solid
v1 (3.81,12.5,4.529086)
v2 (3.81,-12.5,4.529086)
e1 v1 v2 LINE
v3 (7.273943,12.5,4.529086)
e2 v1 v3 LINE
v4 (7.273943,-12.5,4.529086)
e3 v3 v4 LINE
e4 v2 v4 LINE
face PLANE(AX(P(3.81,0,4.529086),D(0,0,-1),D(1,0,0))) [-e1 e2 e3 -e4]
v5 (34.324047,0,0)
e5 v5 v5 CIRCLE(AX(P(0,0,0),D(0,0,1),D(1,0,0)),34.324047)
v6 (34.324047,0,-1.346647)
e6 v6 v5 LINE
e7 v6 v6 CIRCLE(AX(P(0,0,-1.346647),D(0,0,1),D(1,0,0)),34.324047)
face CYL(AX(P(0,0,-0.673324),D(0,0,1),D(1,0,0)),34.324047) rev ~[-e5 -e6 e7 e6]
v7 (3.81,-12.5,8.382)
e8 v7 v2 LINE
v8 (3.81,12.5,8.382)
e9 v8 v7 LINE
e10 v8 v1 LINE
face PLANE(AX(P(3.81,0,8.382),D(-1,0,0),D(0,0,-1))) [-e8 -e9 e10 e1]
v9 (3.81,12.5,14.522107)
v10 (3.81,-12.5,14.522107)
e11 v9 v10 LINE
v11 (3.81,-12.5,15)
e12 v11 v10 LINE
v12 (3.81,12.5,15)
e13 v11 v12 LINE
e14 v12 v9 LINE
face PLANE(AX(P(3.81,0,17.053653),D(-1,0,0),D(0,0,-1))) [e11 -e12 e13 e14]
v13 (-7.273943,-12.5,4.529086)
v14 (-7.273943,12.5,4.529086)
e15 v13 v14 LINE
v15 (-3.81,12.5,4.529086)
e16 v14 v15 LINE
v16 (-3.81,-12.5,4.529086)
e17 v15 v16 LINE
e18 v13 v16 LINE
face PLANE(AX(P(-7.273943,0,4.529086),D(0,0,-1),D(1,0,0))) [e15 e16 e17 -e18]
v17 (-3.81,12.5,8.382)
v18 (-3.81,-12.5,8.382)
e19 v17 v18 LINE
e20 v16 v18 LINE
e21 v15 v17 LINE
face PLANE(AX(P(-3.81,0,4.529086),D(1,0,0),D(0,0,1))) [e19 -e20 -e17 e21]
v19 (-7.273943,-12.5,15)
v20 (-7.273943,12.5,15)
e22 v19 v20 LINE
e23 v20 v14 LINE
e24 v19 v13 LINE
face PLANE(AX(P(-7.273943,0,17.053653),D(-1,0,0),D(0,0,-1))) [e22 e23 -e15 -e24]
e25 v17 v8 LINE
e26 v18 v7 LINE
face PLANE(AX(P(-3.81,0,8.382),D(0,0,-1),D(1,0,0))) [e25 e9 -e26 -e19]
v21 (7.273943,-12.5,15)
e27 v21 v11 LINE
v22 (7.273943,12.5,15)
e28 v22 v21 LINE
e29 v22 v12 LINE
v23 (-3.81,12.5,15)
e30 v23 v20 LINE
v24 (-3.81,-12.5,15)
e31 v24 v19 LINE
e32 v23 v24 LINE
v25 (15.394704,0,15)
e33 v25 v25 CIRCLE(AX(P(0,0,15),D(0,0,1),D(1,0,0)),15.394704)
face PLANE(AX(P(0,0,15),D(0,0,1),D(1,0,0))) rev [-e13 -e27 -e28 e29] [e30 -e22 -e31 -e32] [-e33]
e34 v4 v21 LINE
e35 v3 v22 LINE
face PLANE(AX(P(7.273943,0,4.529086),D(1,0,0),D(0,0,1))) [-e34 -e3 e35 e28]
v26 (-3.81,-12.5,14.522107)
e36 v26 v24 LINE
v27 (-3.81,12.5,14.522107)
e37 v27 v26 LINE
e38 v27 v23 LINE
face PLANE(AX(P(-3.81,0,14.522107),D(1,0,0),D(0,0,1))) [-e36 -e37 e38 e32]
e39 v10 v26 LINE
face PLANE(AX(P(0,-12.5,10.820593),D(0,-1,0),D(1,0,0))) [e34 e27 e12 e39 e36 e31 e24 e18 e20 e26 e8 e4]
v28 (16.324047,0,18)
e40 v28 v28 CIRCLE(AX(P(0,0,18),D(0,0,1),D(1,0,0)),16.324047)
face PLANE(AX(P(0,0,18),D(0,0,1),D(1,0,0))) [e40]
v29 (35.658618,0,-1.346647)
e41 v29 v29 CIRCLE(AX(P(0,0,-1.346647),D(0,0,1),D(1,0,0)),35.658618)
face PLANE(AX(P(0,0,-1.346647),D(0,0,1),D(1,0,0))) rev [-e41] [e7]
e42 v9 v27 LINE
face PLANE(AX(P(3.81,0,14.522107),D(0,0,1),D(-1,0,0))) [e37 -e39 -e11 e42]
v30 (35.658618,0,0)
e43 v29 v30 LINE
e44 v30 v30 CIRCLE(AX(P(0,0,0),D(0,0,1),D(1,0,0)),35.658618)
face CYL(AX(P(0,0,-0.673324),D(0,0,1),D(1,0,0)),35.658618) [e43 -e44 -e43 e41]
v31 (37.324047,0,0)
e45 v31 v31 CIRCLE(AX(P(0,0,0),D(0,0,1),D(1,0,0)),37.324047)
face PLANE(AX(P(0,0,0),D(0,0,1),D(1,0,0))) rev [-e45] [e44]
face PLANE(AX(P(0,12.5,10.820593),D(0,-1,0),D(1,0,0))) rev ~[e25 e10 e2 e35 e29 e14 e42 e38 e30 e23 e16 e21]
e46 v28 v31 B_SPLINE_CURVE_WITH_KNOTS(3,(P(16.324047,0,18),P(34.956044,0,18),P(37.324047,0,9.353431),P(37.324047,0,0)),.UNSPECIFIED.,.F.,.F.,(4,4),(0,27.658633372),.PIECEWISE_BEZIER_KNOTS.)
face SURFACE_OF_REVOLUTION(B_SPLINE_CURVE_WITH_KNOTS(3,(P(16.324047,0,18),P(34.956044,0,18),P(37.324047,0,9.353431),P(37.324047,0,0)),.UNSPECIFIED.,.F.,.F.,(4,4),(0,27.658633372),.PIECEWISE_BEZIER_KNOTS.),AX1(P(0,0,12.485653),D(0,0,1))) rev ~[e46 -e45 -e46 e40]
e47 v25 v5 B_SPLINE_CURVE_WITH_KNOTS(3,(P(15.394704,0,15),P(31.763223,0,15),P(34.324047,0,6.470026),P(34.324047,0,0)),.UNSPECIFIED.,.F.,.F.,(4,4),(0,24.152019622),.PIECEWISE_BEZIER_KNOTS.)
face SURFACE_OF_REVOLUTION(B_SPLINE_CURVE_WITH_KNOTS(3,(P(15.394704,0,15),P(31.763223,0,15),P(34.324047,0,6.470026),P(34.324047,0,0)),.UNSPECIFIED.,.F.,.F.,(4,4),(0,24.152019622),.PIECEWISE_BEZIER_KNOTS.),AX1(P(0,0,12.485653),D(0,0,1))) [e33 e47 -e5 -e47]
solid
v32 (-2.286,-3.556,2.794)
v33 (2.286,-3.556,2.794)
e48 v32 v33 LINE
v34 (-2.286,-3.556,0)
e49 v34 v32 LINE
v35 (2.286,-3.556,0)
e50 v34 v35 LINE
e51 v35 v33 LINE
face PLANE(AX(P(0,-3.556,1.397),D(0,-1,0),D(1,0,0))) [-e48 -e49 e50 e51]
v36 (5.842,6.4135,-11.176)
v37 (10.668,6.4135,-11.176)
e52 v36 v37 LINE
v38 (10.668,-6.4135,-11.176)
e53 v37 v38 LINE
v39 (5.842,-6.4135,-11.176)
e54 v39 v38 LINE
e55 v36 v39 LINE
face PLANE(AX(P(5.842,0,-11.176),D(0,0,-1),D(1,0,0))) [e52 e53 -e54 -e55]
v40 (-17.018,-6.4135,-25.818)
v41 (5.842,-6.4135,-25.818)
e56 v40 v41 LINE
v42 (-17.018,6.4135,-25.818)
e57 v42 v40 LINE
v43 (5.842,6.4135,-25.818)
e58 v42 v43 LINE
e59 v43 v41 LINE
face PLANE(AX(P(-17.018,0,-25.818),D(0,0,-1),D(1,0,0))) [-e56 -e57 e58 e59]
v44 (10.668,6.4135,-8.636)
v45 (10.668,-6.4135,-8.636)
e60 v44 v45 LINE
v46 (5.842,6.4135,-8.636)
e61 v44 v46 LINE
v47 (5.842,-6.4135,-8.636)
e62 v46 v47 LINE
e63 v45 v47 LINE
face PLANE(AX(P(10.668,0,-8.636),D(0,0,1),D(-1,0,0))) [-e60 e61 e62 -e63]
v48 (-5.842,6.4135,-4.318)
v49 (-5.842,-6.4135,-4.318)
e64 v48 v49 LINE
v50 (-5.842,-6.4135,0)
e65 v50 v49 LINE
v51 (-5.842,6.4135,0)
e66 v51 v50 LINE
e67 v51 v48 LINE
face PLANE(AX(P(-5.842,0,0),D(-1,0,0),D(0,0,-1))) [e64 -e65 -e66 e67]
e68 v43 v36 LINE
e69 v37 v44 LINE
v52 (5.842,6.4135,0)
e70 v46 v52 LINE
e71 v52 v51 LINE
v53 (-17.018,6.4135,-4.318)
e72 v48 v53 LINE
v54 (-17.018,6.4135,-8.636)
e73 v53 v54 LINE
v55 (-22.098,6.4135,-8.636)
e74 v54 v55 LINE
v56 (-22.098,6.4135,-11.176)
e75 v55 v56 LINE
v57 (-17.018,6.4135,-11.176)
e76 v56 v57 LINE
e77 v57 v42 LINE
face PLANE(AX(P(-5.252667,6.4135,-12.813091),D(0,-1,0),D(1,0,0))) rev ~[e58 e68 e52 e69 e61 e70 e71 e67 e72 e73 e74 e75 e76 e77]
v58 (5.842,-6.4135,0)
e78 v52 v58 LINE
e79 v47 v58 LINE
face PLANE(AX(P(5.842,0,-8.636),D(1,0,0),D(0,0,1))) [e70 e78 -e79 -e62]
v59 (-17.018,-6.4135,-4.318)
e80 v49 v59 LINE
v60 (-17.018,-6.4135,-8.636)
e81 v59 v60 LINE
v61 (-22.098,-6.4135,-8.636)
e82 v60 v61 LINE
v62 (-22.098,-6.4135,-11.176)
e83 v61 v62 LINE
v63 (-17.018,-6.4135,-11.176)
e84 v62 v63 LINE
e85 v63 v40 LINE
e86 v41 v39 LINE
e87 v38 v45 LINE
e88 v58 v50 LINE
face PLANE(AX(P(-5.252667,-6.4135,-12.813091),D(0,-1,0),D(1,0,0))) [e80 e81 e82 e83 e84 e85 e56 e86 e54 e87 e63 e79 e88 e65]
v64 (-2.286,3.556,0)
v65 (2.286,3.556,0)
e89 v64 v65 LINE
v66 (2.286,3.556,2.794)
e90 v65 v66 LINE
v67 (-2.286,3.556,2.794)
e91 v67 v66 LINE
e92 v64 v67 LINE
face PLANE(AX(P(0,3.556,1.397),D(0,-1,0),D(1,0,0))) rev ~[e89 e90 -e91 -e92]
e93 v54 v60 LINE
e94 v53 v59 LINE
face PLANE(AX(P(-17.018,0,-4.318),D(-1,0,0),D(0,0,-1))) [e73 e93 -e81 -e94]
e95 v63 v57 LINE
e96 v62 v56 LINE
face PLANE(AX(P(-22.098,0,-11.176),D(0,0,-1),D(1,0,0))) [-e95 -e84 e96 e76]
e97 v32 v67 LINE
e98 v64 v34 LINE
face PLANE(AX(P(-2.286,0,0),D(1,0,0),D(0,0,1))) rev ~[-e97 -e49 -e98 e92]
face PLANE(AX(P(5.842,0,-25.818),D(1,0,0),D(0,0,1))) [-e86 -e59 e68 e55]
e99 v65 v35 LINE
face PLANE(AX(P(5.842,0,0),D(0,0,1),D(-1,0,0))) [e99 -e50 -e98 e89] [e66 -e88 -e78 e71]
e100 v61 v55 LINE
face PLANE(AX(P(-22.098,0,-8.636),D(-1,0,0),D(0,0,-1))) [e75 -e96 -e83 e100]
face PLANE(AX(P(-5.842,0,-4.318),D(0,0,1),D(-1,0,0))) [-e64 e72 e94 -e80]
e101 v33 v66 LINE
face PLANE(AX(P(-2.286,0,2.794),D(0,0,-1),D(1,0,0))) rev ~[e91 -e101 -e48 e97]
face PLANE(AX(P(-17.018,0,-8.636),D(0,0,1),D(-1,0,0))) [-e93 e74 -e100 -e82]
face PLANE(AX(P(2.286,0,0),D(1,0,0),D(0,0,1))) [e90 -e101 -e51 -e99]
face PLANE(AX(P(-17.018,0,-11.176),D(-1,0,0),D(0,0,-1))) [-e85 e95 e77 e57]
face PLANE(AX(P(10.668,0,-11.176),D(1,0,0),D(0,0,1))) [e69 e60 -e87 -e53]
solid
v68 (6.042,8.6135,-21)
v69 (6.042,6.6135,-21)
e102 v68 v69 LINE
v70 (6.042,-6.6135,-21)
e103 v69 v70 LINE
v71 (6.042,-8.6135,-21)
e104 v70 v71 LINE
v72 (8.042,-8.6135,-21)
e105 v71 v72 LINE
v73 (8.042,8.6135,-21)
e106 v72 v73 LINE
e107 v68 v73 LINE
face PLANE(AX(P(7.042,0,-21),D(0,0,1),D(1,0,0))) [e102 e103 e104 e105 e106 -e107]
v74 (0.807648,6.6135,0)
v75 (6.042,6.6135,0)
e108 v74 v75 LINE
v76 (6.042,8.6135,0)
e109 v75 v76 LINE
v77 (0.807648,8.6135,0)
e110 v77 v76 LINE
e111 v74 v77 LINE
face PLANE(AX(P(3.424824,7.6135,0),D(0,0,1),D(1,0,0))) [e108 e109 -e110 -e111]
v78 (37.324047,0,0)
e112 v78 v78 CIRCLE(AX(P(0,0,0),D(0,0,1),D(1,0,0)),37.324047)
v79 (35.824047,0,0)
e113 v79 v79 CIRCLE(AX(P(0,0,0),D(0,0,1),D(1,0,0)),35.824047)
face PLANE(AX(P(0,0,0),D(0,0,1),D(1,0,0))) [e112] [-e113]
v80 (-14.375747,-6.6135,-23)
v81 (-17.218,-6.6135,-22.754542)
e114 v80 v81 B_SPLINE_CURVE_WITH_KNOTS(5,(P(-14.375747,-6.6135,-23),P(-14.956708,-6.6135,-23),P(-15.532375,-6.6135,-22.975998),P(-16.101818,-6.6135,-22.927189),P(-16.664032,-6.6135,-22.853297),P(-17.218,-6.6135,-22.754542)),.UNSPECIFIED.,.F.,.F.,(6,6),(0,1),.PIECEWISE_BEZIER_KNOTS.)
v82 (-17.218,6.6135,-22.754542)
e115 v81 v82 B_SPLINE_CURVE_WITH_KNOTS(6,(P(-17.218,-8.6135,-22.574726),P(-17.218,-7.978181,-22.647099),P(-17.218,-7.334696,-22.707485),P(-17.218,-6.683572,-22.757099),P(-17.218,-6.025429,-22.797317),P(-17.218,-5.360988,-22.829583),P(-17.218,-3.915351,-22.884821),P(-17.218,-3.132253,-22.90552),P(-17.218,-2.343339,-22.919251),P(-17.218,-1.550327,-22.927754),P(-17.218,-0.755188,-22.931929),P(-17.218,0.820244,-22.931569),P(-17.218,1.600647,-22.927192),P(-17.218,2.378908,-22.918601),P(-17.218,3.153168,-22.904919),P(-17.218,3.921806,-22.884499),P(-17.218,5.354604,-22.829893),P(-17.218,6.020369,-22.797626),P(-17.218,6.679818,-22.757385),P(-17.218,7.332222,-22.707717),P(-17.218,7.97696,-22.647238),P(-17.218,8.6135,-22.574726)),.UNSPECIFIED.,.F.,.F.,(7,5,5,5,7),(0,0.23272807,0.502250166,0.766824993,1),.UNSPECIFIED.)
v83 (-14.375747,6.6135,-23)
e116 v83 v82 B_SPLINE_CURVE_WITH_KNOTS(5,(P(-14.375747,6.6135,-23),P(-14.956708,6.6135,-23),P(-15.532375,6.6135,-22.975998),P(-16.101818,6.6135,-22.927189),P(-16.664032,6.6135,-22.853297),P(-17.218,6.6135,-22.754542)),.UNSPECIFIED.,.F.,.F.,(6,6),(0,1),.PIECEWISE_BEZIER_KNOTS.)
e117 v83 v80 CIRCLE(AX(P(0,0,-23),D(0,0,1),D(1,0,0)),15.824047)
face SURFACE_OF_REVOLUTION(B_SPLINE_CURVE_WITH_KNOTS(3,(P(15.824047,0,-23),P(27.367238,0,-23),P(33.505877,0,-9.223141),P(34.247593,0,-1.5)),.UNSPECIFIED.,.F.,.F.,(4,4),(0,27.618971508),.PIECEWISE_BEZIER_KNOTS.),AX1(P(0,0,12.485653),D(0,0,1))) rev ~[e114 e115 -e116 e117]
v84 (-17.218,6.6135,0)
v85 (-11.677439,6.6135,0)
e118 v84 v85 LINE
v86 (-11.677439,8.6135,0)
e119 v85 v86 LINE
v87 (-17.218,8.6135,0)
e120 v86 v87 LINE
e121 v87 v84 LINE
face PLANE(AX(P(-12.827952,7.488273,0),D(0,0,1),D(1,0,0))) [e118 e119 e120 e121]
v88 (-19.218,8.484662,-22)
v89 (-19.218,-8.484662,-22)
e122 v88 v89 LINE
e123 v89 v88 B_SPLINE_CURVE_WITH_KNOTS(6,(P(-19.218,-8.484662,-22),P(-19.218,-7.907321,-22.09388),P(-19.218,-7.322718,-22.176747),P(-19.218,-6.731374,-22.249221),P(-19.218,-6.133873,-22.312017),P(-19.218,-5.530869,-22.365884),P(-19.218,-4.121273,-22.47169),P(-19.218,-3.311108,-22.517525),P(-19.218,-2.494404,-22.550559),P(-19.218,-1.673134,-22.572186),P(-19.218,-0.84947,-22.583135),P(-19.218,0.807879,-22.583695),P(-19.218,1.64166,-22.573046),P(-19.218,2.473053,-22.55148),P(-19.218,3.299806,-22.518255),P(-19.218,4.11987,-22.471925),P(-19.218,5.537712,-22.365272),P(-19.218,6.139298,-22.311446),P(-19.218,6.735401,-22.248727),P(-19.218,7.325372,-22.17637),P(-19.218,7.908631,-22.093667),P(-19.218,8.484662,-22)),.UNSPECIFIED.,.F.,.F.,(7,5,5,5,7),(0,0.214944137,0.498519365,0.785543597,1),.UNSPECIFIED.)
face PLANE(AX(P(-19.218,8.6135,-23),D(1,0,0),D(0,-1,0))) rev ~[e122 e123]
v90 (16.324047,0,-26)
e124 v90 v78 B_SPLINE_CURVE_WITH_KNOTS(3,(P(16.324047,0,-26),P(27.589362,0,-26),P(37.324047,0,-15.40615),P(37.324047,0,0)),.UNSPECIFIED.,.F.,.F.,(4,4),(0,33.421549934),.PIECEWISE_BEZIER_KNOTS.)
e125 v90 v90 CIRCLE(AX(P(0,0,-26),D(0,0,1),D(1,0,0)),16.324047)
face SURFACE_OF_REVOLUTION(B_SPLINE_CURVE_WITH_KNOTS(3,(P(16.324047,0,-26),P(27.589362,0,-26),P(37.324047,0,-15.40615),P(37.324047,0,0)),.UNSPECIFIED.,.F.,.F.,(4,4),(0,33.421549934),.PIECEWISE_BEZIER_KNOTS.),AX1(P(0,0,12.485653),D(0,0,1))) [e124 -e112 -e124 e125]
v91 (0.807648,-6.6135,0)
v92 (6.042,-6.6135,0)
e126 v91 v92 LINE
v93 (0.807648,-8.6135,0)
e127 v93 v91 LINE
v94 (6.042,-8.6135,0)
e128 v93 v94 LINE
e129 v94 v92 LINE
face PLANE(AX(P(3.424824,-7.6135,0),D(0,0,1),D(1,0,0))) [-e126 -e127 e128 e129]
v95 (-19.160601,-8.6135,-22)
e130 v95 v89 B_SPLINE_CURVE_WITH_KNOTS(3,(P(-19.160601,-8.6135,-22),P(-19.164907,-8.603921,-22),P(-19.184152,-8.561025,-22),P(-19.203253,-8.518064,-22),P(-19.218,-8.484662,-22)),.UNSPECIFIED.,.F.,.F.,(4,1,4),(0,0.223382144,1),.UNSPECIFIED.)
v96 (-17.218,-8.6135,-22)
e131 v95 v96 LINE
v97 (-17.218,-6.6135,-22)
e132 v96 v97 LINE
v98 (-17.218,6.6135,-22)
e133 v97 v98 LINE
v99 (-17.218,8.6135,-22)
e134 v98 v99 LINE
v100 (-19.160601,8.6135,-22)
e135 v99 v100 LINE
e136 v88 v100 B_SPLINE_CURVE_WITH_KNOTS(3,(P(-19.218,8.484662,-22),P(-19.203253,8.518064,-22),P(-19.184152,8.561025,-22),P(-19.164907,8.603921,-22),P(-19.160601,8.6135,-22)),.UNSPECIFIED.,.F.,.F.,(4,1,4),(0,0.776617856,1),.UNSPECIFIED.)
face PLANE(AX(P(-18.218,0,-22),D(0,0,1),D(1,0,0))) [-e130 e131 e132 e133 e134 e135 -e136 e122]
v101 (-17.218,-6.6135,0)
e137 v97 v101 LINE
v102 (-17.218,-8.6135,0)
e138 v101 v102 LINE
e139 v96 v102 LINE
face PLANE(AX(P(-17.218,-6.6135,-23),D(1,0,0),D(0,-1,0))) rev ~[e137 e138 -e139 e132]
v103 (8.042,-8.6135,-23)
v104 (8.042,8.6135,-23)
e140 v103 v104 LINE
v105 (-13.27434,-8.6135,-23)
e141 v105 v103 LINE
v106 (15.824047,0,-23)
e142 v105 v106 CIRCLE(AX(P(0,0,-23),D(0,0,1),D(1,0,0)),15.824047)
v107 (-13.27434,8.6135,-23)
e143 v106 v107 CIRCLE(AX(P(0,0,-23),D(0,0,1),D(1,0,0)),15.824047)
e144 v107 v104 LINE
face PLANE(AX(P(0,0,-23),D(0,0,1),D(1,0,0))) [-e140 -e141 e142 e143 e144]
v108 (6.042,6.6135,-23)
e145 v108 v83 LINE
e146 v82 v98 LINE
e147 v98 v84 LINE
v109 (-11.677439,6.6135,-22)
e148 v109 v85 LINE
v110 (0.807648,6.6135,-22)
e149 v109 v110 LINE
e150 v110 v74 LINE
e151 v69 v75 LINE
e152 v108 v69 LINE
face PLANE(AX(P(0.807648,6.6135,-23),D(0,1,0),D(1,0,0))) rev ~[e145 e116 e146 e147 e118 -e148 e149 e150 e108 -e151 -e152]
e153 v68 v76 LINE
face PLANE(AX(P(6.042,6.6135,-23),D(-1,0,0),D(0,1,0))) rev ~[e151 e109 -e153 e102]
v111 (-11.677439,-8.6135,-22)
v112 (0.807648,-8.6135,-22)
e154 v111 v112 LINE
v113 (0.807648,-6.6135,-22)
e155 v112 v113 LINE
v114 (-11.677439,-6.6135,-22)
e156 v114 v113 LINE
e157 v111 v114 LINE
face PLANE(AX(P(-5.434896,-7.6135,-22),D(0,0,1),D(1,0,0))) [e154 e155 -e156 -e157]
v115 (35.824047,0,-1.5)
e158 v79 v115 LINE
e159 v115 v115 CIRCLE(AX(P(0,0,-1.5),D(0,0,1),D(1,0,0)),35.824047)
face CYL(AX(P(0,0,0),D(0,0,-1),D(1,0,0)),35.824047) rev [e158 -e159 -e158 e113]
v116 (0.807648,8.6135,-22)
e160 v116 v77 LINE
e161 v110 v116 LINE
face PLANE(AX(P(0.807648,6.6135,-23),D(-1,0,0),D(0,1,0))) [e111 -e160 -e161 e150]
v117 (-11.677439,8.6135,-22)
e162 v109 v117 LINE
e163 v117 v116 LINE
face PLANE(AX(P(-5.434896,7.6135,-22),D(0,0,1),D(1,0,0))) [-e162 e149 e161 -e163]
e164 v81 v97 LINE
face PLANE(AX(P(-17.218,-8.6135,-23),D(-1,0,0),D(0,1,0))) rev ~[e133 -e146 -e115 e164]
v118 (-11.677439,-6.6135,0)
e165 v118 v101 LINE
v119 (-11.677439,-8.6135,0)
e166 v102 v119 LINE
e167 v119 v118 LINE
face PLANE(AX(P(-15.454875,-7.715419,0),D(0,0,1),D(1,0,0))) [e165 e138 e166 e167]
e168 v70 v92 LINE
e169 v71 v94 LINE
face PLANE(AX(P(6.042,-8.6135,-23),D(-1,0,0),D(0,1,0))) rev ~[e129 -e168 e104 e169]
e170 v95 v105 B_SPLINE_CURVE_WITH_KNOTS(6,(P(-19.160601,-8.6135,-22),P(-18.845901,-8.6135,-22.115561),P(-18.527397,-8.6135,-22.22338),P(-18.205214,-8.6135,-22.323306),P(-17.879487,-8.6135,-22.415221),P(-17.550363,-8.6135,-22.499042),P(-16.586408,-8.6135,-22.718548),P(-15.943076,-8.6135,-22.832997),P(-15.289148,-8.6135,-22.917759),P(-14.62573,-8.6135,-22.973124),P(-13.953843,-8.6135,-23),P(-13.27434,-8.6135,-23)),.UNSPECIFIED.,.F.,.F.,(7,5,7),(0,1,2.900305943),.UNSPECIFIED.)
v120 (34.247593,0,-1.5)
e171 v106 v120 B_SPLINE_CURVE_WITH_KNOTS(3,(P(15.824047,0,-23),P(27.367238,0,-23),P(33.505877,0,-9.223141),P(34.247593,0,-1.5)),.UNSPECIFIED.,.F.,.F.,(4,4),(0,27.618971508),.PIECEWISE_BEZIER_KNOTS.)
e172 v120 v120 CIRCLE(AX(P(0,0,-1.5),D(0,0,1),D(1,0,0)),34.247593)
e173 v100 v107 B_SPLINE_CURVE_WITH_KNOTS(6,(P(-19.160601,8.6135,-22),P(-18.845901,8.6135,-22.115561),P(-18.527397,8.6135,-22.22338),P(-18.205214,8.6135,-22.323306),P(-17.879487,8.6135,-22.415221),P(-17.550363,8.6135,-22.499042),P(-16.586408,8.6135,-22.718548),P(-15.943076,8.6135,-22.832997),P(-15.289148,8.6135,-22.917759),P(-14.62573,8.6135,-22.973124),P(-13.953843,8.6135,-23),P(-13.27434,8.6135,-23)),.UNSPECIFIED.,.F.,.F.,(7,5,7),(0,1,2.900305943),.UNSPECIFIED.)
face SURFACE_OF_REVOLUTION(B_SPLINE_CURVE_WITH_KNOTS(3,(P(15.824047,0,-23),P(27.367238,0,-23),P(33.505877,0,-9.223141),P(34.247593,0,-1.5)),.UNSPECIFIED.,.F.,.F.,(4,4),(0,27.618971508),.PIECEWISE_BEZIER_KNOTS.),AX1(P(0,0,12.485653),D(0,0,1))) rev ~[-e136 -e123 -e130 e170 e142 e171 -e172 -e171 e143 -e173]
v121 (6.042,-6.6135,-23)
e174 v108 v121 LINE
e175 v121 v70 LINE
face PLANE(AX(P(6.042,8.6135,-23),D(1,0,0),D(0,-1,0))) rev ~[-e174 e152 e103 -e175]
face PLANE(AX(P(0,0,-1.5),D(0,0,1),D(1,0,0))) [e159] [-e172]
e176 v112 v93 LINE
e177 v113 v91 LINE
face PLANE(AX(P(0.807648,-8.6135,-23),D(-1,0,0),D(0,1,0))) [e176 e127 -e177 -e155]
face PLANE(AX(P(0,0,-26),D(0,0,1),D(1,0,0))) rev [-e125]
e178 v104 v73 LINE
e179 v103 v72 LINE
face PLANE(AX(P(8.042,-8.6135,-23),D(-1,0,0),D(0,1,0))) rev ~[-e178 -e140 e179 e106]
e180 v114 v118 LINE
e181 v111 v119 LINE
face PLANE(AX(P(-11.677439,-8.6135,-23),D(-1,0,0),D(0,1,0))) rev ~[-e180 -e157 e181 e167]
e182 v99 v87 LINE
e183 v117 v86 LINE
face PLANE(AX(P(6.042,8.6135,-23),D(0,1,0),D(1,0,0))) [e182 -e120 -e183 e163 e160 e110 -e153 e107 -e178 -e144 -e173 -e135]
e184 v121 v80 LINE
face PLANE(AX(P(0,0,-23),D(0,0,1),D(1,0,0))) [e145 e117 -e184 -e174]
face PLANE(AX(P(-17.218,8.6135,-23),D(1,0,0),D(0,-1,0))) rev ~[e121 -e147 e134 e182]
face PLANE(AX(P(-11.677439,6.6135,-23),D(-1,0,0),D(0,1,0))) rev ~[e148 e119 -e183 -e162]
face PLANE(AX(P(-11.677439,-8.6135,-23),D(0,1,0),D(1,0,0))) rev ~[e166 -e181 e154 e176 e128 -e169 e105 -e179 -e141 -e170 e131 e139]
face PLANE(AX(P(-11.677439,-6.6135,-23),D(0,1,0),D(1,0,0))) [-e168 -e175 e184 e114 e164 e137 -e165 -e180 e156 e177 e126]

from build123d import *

# Parameters (mm, degrees)
F2_DEPTH  = 6.4135
F1_W      = 4.572
F1_H      = 2.794
F3_DEPTH  = 3.556
F5_W      = 5.2343517082
F5_H      = 2
F6_DEPTH  = 23
F7_W      = 1.3345703483
F7_H      = 1.3466473902
F10_DEPTH = 12.5
F5_W_2    = 2
F5_H_2    = 13.227
F11_DEPTH = 2
F5_W_3    = 12.4850876164
F12_DEPTH = 1


with BuildPart() as f2:
    # F1 (on Front) → F2 (new body, symmetric)
    with BuildSketch(Plane.XZ):
        Polygon((-17.018, -11.176), (-17.018, -25.818), (5.842, -25.818), (5.842, -11.176), (10.668, -11.176), (10.668, -8.636), (5.842, -8.636), (5.842, 0), (2.286, 0), (-2.286, 0), (-5.842, 0), (-5.842, -4.318), (-17.018, -4.318), (-17.018, -8.636), (-22.098, -8.636), (-22.098, -11.176), align=None)
    extrude(amount=F2_DEPTH, both=True)

    # F1 (on Front) → F3 (join, symmetric)
    with BuildSketch(Plane.XZ):
        with Locations((0, 1.397)):
            Rectangle(F1_W, F1_H)
    extrude(amount=F3_DEPTH, both=True)


with BuildPart() as f4:
    # F0 (on Front) → F4 (revolve)
    with BuildSketch(Plane.XZ):
        with BuildLine():
            Line((15.8240472745, -23), (0, -23))
            Line((0, -23), (0, -26))
            Line((0, -26), (16.3240472745, -26))
            add(Edge.make_bspline(
                [(16.3240472745, -26), (27.5893621147, -26), (37.3240472745, -15.4061496661), (37.3240472745, 0)],
                knots=[0, 0, 0, 0, 33.4215499341, 33.4215499341, 33.4215499341, 33.4215499341], degree=3))
            Line((37.3240472745, 0), (35.8240472745, 0))
            Line((35.8240472745, 0), (35.8240472745, -1.5))
            Line((35.8240472745, -1.5), (34.2475925575, -1.5))
            add(Edge.make_bspline(
                [(15.8240472745, -23), (27.3672380169, -23), (33.5058766717, -9.2231405476), (34.2475925575, -1.5)],
                knots=[0, 0, 0, 0, 27.6189715084, 27.6189715084, 27.6189715084, 27.6189715084], degree=3))
        make_face()
    revolve(axis=Axis((0, 0, 12.485653162), (0, 0, 1)))

    # F5 (on face) → F6 (join, through all)
    with BuildSketch(Plane.XY.offset(-23)):
        with BuildLine():
            ThreePointArc((-13.2743395276, -8.6135), (-13.8611621273, -7.6333908997), (-14.3757465857, -6.6135))
            Line((-14.3757465857, -6.6135), (-17.218, -6.6135))
            Line((-17.218, -6.6135), (-17.218, -8.6135))
            Line((-17.218, -8.6135), (-13.2743395276, -8.6135))
        make_face()
        with BuildLine():
            Line((-11.6774393246, -8.6135), (-11.6774393246, -6.6135))
            Line((-11.6774393246, -6.6135), (-14.3757465857, -6.6135))
            ThreePointArc((-14.3757465857, -6.6135), (-13.8611621273, -7.6333908997), (-13.2743395276, -8.6135))
            Line((-13.2743395276, -8.6135), (-11.6774393246, -8.6135))
        make_face()
        with Locations((3.4248241459, -7.6135)):
            Rectangle(F5_W, F5_H)
        with Locations((3.4248241459, 7.6135)):
            Rectangle(F5_W, F5_H)
        with BuildLine():
            ThreePointArc((-13.2743395276, 8.6135), (-13.8611621273, 7.6333908997), (-14.3757465857, 6.6135))
            Line((-14.3757465857, 6.6135), (-11.6774393246, 6.6135))
            Line((-11.6774393246, 6.6135), (-11.6774393246, 8.6135))
            Line((-11.6774393246, 8.6135), (-13.2743395276, 8.6135))
        make_face()
        with BuildLine():
            Line((-17.218, 6.6135), (-14.3757465857, 6.6135))
            ThreePointArc((-14.3757465857, 6.6135), (-13.8611621273, 7.6333908997), (-13.2743395276, 8.6135))
            Line((-13.2743395276, 8.6135), (-17.218, 8.6135))
            Line((-17.218, 8.6135), (-17.218, 6.6135))
        make_face()
    extrude(amount=F6_DEPTH)

    # F5 (on face) → F11 (join)
    with BuildSketch(Plane.XY.offset(-23)):
        with Locations((7.042, 0)):
            Rectangle(F5_W_2, F5_H_2)
        with Locations((7.042, -7.6135)):
            Rectangle(F5_W_2, F5_H)
        with Locations((7.042, 7.6135)):
            Rectangle(F5_W_2, F5_H)
    extrude(amount=F11_DEPTH)

    # F5 (on face) → F12 (join)
    with BuildSketch(Plane.XY.offset(-23)):
        with Locations((-5.4348955164, -7.6135)):
            Rectangle(F5_W_3, F5_H)
        with Locations((-5.4348955164, 7.6135)):
            Rectangle(F5_W_3, F5_H)
        Polygon((-17.218, -8.6135), (-17.218, -6.6135), (-17.218, 6.6135), (-17.218, 8.6135), (-19.218, 8.6135), (-19.218, -8.6135), align=None)
    extrude(amount=F12_DEPTH)


with BuildPart() as f8:
    # F7 (on Front) → F8 (revolve)
    with BuildSketch(Plane.XZ):
        with BuildLine():
            Line((16.3240472745, 18), (0, 18))
            Line((0, 18), (0, 15))
            Line((0, 15), (15.3947036039, 15))
            add(Edge.make_bspline(
                [(15.3947036039, 15), (31.7632231187, 15), (34.3240472745, 6.470025909), (34.3240472745, 0)],
                knots=[0, 0, 0, 0, 24.1520196216, 24.1520196216, 24.1520196216, 24.1520196216], degree=3))
            Line((34.3240472745, 0), (35.6586176228, 0))
            Line((35.6586176228, 0), (37.3240472745, 0))
            add(Edge.make_bspline(
                [(16.3240472745, 18), (34.9560443224, 18), (37.3240472745, 9.3534307705), (37.3240472745, 0)],
                knots=[0, 0, 0, 0, 27.6586333719, 27.6586333719, 27.6586333719, 27.6586333719], degree=3))
        make_face()
        with Locations((34.9913324486, -0.6733236951)):
            Rectangle(F7_W, F7_H)
    revolve(axis=Axis((0, 0, 12.485653162), (0, 0, 1)))

    # F9 (on Front) → F10 (join, symmetric)
    with BuildSketch(Plane.XZ):
        Polygon((-7.273943428, 4.5290855931), (-3.81, 4.5290855931), (-3.81, 8.382), (3.81, 8.382), (3.81, 4.5290855931), (7.273943428, 4.5290855931), (7.273943428, 17.0536525548), (3.81, 17.0536525548), (3.81, 14.522107318), (-3.81, 14.522107318), (-3.81, 17.0536525548), (-7.273943428, 17.0536525548), align=None)
    extrude(amount=F10_DEPTH, both=True)


solid = Compound([f2.part, f4.part, f8.part])
